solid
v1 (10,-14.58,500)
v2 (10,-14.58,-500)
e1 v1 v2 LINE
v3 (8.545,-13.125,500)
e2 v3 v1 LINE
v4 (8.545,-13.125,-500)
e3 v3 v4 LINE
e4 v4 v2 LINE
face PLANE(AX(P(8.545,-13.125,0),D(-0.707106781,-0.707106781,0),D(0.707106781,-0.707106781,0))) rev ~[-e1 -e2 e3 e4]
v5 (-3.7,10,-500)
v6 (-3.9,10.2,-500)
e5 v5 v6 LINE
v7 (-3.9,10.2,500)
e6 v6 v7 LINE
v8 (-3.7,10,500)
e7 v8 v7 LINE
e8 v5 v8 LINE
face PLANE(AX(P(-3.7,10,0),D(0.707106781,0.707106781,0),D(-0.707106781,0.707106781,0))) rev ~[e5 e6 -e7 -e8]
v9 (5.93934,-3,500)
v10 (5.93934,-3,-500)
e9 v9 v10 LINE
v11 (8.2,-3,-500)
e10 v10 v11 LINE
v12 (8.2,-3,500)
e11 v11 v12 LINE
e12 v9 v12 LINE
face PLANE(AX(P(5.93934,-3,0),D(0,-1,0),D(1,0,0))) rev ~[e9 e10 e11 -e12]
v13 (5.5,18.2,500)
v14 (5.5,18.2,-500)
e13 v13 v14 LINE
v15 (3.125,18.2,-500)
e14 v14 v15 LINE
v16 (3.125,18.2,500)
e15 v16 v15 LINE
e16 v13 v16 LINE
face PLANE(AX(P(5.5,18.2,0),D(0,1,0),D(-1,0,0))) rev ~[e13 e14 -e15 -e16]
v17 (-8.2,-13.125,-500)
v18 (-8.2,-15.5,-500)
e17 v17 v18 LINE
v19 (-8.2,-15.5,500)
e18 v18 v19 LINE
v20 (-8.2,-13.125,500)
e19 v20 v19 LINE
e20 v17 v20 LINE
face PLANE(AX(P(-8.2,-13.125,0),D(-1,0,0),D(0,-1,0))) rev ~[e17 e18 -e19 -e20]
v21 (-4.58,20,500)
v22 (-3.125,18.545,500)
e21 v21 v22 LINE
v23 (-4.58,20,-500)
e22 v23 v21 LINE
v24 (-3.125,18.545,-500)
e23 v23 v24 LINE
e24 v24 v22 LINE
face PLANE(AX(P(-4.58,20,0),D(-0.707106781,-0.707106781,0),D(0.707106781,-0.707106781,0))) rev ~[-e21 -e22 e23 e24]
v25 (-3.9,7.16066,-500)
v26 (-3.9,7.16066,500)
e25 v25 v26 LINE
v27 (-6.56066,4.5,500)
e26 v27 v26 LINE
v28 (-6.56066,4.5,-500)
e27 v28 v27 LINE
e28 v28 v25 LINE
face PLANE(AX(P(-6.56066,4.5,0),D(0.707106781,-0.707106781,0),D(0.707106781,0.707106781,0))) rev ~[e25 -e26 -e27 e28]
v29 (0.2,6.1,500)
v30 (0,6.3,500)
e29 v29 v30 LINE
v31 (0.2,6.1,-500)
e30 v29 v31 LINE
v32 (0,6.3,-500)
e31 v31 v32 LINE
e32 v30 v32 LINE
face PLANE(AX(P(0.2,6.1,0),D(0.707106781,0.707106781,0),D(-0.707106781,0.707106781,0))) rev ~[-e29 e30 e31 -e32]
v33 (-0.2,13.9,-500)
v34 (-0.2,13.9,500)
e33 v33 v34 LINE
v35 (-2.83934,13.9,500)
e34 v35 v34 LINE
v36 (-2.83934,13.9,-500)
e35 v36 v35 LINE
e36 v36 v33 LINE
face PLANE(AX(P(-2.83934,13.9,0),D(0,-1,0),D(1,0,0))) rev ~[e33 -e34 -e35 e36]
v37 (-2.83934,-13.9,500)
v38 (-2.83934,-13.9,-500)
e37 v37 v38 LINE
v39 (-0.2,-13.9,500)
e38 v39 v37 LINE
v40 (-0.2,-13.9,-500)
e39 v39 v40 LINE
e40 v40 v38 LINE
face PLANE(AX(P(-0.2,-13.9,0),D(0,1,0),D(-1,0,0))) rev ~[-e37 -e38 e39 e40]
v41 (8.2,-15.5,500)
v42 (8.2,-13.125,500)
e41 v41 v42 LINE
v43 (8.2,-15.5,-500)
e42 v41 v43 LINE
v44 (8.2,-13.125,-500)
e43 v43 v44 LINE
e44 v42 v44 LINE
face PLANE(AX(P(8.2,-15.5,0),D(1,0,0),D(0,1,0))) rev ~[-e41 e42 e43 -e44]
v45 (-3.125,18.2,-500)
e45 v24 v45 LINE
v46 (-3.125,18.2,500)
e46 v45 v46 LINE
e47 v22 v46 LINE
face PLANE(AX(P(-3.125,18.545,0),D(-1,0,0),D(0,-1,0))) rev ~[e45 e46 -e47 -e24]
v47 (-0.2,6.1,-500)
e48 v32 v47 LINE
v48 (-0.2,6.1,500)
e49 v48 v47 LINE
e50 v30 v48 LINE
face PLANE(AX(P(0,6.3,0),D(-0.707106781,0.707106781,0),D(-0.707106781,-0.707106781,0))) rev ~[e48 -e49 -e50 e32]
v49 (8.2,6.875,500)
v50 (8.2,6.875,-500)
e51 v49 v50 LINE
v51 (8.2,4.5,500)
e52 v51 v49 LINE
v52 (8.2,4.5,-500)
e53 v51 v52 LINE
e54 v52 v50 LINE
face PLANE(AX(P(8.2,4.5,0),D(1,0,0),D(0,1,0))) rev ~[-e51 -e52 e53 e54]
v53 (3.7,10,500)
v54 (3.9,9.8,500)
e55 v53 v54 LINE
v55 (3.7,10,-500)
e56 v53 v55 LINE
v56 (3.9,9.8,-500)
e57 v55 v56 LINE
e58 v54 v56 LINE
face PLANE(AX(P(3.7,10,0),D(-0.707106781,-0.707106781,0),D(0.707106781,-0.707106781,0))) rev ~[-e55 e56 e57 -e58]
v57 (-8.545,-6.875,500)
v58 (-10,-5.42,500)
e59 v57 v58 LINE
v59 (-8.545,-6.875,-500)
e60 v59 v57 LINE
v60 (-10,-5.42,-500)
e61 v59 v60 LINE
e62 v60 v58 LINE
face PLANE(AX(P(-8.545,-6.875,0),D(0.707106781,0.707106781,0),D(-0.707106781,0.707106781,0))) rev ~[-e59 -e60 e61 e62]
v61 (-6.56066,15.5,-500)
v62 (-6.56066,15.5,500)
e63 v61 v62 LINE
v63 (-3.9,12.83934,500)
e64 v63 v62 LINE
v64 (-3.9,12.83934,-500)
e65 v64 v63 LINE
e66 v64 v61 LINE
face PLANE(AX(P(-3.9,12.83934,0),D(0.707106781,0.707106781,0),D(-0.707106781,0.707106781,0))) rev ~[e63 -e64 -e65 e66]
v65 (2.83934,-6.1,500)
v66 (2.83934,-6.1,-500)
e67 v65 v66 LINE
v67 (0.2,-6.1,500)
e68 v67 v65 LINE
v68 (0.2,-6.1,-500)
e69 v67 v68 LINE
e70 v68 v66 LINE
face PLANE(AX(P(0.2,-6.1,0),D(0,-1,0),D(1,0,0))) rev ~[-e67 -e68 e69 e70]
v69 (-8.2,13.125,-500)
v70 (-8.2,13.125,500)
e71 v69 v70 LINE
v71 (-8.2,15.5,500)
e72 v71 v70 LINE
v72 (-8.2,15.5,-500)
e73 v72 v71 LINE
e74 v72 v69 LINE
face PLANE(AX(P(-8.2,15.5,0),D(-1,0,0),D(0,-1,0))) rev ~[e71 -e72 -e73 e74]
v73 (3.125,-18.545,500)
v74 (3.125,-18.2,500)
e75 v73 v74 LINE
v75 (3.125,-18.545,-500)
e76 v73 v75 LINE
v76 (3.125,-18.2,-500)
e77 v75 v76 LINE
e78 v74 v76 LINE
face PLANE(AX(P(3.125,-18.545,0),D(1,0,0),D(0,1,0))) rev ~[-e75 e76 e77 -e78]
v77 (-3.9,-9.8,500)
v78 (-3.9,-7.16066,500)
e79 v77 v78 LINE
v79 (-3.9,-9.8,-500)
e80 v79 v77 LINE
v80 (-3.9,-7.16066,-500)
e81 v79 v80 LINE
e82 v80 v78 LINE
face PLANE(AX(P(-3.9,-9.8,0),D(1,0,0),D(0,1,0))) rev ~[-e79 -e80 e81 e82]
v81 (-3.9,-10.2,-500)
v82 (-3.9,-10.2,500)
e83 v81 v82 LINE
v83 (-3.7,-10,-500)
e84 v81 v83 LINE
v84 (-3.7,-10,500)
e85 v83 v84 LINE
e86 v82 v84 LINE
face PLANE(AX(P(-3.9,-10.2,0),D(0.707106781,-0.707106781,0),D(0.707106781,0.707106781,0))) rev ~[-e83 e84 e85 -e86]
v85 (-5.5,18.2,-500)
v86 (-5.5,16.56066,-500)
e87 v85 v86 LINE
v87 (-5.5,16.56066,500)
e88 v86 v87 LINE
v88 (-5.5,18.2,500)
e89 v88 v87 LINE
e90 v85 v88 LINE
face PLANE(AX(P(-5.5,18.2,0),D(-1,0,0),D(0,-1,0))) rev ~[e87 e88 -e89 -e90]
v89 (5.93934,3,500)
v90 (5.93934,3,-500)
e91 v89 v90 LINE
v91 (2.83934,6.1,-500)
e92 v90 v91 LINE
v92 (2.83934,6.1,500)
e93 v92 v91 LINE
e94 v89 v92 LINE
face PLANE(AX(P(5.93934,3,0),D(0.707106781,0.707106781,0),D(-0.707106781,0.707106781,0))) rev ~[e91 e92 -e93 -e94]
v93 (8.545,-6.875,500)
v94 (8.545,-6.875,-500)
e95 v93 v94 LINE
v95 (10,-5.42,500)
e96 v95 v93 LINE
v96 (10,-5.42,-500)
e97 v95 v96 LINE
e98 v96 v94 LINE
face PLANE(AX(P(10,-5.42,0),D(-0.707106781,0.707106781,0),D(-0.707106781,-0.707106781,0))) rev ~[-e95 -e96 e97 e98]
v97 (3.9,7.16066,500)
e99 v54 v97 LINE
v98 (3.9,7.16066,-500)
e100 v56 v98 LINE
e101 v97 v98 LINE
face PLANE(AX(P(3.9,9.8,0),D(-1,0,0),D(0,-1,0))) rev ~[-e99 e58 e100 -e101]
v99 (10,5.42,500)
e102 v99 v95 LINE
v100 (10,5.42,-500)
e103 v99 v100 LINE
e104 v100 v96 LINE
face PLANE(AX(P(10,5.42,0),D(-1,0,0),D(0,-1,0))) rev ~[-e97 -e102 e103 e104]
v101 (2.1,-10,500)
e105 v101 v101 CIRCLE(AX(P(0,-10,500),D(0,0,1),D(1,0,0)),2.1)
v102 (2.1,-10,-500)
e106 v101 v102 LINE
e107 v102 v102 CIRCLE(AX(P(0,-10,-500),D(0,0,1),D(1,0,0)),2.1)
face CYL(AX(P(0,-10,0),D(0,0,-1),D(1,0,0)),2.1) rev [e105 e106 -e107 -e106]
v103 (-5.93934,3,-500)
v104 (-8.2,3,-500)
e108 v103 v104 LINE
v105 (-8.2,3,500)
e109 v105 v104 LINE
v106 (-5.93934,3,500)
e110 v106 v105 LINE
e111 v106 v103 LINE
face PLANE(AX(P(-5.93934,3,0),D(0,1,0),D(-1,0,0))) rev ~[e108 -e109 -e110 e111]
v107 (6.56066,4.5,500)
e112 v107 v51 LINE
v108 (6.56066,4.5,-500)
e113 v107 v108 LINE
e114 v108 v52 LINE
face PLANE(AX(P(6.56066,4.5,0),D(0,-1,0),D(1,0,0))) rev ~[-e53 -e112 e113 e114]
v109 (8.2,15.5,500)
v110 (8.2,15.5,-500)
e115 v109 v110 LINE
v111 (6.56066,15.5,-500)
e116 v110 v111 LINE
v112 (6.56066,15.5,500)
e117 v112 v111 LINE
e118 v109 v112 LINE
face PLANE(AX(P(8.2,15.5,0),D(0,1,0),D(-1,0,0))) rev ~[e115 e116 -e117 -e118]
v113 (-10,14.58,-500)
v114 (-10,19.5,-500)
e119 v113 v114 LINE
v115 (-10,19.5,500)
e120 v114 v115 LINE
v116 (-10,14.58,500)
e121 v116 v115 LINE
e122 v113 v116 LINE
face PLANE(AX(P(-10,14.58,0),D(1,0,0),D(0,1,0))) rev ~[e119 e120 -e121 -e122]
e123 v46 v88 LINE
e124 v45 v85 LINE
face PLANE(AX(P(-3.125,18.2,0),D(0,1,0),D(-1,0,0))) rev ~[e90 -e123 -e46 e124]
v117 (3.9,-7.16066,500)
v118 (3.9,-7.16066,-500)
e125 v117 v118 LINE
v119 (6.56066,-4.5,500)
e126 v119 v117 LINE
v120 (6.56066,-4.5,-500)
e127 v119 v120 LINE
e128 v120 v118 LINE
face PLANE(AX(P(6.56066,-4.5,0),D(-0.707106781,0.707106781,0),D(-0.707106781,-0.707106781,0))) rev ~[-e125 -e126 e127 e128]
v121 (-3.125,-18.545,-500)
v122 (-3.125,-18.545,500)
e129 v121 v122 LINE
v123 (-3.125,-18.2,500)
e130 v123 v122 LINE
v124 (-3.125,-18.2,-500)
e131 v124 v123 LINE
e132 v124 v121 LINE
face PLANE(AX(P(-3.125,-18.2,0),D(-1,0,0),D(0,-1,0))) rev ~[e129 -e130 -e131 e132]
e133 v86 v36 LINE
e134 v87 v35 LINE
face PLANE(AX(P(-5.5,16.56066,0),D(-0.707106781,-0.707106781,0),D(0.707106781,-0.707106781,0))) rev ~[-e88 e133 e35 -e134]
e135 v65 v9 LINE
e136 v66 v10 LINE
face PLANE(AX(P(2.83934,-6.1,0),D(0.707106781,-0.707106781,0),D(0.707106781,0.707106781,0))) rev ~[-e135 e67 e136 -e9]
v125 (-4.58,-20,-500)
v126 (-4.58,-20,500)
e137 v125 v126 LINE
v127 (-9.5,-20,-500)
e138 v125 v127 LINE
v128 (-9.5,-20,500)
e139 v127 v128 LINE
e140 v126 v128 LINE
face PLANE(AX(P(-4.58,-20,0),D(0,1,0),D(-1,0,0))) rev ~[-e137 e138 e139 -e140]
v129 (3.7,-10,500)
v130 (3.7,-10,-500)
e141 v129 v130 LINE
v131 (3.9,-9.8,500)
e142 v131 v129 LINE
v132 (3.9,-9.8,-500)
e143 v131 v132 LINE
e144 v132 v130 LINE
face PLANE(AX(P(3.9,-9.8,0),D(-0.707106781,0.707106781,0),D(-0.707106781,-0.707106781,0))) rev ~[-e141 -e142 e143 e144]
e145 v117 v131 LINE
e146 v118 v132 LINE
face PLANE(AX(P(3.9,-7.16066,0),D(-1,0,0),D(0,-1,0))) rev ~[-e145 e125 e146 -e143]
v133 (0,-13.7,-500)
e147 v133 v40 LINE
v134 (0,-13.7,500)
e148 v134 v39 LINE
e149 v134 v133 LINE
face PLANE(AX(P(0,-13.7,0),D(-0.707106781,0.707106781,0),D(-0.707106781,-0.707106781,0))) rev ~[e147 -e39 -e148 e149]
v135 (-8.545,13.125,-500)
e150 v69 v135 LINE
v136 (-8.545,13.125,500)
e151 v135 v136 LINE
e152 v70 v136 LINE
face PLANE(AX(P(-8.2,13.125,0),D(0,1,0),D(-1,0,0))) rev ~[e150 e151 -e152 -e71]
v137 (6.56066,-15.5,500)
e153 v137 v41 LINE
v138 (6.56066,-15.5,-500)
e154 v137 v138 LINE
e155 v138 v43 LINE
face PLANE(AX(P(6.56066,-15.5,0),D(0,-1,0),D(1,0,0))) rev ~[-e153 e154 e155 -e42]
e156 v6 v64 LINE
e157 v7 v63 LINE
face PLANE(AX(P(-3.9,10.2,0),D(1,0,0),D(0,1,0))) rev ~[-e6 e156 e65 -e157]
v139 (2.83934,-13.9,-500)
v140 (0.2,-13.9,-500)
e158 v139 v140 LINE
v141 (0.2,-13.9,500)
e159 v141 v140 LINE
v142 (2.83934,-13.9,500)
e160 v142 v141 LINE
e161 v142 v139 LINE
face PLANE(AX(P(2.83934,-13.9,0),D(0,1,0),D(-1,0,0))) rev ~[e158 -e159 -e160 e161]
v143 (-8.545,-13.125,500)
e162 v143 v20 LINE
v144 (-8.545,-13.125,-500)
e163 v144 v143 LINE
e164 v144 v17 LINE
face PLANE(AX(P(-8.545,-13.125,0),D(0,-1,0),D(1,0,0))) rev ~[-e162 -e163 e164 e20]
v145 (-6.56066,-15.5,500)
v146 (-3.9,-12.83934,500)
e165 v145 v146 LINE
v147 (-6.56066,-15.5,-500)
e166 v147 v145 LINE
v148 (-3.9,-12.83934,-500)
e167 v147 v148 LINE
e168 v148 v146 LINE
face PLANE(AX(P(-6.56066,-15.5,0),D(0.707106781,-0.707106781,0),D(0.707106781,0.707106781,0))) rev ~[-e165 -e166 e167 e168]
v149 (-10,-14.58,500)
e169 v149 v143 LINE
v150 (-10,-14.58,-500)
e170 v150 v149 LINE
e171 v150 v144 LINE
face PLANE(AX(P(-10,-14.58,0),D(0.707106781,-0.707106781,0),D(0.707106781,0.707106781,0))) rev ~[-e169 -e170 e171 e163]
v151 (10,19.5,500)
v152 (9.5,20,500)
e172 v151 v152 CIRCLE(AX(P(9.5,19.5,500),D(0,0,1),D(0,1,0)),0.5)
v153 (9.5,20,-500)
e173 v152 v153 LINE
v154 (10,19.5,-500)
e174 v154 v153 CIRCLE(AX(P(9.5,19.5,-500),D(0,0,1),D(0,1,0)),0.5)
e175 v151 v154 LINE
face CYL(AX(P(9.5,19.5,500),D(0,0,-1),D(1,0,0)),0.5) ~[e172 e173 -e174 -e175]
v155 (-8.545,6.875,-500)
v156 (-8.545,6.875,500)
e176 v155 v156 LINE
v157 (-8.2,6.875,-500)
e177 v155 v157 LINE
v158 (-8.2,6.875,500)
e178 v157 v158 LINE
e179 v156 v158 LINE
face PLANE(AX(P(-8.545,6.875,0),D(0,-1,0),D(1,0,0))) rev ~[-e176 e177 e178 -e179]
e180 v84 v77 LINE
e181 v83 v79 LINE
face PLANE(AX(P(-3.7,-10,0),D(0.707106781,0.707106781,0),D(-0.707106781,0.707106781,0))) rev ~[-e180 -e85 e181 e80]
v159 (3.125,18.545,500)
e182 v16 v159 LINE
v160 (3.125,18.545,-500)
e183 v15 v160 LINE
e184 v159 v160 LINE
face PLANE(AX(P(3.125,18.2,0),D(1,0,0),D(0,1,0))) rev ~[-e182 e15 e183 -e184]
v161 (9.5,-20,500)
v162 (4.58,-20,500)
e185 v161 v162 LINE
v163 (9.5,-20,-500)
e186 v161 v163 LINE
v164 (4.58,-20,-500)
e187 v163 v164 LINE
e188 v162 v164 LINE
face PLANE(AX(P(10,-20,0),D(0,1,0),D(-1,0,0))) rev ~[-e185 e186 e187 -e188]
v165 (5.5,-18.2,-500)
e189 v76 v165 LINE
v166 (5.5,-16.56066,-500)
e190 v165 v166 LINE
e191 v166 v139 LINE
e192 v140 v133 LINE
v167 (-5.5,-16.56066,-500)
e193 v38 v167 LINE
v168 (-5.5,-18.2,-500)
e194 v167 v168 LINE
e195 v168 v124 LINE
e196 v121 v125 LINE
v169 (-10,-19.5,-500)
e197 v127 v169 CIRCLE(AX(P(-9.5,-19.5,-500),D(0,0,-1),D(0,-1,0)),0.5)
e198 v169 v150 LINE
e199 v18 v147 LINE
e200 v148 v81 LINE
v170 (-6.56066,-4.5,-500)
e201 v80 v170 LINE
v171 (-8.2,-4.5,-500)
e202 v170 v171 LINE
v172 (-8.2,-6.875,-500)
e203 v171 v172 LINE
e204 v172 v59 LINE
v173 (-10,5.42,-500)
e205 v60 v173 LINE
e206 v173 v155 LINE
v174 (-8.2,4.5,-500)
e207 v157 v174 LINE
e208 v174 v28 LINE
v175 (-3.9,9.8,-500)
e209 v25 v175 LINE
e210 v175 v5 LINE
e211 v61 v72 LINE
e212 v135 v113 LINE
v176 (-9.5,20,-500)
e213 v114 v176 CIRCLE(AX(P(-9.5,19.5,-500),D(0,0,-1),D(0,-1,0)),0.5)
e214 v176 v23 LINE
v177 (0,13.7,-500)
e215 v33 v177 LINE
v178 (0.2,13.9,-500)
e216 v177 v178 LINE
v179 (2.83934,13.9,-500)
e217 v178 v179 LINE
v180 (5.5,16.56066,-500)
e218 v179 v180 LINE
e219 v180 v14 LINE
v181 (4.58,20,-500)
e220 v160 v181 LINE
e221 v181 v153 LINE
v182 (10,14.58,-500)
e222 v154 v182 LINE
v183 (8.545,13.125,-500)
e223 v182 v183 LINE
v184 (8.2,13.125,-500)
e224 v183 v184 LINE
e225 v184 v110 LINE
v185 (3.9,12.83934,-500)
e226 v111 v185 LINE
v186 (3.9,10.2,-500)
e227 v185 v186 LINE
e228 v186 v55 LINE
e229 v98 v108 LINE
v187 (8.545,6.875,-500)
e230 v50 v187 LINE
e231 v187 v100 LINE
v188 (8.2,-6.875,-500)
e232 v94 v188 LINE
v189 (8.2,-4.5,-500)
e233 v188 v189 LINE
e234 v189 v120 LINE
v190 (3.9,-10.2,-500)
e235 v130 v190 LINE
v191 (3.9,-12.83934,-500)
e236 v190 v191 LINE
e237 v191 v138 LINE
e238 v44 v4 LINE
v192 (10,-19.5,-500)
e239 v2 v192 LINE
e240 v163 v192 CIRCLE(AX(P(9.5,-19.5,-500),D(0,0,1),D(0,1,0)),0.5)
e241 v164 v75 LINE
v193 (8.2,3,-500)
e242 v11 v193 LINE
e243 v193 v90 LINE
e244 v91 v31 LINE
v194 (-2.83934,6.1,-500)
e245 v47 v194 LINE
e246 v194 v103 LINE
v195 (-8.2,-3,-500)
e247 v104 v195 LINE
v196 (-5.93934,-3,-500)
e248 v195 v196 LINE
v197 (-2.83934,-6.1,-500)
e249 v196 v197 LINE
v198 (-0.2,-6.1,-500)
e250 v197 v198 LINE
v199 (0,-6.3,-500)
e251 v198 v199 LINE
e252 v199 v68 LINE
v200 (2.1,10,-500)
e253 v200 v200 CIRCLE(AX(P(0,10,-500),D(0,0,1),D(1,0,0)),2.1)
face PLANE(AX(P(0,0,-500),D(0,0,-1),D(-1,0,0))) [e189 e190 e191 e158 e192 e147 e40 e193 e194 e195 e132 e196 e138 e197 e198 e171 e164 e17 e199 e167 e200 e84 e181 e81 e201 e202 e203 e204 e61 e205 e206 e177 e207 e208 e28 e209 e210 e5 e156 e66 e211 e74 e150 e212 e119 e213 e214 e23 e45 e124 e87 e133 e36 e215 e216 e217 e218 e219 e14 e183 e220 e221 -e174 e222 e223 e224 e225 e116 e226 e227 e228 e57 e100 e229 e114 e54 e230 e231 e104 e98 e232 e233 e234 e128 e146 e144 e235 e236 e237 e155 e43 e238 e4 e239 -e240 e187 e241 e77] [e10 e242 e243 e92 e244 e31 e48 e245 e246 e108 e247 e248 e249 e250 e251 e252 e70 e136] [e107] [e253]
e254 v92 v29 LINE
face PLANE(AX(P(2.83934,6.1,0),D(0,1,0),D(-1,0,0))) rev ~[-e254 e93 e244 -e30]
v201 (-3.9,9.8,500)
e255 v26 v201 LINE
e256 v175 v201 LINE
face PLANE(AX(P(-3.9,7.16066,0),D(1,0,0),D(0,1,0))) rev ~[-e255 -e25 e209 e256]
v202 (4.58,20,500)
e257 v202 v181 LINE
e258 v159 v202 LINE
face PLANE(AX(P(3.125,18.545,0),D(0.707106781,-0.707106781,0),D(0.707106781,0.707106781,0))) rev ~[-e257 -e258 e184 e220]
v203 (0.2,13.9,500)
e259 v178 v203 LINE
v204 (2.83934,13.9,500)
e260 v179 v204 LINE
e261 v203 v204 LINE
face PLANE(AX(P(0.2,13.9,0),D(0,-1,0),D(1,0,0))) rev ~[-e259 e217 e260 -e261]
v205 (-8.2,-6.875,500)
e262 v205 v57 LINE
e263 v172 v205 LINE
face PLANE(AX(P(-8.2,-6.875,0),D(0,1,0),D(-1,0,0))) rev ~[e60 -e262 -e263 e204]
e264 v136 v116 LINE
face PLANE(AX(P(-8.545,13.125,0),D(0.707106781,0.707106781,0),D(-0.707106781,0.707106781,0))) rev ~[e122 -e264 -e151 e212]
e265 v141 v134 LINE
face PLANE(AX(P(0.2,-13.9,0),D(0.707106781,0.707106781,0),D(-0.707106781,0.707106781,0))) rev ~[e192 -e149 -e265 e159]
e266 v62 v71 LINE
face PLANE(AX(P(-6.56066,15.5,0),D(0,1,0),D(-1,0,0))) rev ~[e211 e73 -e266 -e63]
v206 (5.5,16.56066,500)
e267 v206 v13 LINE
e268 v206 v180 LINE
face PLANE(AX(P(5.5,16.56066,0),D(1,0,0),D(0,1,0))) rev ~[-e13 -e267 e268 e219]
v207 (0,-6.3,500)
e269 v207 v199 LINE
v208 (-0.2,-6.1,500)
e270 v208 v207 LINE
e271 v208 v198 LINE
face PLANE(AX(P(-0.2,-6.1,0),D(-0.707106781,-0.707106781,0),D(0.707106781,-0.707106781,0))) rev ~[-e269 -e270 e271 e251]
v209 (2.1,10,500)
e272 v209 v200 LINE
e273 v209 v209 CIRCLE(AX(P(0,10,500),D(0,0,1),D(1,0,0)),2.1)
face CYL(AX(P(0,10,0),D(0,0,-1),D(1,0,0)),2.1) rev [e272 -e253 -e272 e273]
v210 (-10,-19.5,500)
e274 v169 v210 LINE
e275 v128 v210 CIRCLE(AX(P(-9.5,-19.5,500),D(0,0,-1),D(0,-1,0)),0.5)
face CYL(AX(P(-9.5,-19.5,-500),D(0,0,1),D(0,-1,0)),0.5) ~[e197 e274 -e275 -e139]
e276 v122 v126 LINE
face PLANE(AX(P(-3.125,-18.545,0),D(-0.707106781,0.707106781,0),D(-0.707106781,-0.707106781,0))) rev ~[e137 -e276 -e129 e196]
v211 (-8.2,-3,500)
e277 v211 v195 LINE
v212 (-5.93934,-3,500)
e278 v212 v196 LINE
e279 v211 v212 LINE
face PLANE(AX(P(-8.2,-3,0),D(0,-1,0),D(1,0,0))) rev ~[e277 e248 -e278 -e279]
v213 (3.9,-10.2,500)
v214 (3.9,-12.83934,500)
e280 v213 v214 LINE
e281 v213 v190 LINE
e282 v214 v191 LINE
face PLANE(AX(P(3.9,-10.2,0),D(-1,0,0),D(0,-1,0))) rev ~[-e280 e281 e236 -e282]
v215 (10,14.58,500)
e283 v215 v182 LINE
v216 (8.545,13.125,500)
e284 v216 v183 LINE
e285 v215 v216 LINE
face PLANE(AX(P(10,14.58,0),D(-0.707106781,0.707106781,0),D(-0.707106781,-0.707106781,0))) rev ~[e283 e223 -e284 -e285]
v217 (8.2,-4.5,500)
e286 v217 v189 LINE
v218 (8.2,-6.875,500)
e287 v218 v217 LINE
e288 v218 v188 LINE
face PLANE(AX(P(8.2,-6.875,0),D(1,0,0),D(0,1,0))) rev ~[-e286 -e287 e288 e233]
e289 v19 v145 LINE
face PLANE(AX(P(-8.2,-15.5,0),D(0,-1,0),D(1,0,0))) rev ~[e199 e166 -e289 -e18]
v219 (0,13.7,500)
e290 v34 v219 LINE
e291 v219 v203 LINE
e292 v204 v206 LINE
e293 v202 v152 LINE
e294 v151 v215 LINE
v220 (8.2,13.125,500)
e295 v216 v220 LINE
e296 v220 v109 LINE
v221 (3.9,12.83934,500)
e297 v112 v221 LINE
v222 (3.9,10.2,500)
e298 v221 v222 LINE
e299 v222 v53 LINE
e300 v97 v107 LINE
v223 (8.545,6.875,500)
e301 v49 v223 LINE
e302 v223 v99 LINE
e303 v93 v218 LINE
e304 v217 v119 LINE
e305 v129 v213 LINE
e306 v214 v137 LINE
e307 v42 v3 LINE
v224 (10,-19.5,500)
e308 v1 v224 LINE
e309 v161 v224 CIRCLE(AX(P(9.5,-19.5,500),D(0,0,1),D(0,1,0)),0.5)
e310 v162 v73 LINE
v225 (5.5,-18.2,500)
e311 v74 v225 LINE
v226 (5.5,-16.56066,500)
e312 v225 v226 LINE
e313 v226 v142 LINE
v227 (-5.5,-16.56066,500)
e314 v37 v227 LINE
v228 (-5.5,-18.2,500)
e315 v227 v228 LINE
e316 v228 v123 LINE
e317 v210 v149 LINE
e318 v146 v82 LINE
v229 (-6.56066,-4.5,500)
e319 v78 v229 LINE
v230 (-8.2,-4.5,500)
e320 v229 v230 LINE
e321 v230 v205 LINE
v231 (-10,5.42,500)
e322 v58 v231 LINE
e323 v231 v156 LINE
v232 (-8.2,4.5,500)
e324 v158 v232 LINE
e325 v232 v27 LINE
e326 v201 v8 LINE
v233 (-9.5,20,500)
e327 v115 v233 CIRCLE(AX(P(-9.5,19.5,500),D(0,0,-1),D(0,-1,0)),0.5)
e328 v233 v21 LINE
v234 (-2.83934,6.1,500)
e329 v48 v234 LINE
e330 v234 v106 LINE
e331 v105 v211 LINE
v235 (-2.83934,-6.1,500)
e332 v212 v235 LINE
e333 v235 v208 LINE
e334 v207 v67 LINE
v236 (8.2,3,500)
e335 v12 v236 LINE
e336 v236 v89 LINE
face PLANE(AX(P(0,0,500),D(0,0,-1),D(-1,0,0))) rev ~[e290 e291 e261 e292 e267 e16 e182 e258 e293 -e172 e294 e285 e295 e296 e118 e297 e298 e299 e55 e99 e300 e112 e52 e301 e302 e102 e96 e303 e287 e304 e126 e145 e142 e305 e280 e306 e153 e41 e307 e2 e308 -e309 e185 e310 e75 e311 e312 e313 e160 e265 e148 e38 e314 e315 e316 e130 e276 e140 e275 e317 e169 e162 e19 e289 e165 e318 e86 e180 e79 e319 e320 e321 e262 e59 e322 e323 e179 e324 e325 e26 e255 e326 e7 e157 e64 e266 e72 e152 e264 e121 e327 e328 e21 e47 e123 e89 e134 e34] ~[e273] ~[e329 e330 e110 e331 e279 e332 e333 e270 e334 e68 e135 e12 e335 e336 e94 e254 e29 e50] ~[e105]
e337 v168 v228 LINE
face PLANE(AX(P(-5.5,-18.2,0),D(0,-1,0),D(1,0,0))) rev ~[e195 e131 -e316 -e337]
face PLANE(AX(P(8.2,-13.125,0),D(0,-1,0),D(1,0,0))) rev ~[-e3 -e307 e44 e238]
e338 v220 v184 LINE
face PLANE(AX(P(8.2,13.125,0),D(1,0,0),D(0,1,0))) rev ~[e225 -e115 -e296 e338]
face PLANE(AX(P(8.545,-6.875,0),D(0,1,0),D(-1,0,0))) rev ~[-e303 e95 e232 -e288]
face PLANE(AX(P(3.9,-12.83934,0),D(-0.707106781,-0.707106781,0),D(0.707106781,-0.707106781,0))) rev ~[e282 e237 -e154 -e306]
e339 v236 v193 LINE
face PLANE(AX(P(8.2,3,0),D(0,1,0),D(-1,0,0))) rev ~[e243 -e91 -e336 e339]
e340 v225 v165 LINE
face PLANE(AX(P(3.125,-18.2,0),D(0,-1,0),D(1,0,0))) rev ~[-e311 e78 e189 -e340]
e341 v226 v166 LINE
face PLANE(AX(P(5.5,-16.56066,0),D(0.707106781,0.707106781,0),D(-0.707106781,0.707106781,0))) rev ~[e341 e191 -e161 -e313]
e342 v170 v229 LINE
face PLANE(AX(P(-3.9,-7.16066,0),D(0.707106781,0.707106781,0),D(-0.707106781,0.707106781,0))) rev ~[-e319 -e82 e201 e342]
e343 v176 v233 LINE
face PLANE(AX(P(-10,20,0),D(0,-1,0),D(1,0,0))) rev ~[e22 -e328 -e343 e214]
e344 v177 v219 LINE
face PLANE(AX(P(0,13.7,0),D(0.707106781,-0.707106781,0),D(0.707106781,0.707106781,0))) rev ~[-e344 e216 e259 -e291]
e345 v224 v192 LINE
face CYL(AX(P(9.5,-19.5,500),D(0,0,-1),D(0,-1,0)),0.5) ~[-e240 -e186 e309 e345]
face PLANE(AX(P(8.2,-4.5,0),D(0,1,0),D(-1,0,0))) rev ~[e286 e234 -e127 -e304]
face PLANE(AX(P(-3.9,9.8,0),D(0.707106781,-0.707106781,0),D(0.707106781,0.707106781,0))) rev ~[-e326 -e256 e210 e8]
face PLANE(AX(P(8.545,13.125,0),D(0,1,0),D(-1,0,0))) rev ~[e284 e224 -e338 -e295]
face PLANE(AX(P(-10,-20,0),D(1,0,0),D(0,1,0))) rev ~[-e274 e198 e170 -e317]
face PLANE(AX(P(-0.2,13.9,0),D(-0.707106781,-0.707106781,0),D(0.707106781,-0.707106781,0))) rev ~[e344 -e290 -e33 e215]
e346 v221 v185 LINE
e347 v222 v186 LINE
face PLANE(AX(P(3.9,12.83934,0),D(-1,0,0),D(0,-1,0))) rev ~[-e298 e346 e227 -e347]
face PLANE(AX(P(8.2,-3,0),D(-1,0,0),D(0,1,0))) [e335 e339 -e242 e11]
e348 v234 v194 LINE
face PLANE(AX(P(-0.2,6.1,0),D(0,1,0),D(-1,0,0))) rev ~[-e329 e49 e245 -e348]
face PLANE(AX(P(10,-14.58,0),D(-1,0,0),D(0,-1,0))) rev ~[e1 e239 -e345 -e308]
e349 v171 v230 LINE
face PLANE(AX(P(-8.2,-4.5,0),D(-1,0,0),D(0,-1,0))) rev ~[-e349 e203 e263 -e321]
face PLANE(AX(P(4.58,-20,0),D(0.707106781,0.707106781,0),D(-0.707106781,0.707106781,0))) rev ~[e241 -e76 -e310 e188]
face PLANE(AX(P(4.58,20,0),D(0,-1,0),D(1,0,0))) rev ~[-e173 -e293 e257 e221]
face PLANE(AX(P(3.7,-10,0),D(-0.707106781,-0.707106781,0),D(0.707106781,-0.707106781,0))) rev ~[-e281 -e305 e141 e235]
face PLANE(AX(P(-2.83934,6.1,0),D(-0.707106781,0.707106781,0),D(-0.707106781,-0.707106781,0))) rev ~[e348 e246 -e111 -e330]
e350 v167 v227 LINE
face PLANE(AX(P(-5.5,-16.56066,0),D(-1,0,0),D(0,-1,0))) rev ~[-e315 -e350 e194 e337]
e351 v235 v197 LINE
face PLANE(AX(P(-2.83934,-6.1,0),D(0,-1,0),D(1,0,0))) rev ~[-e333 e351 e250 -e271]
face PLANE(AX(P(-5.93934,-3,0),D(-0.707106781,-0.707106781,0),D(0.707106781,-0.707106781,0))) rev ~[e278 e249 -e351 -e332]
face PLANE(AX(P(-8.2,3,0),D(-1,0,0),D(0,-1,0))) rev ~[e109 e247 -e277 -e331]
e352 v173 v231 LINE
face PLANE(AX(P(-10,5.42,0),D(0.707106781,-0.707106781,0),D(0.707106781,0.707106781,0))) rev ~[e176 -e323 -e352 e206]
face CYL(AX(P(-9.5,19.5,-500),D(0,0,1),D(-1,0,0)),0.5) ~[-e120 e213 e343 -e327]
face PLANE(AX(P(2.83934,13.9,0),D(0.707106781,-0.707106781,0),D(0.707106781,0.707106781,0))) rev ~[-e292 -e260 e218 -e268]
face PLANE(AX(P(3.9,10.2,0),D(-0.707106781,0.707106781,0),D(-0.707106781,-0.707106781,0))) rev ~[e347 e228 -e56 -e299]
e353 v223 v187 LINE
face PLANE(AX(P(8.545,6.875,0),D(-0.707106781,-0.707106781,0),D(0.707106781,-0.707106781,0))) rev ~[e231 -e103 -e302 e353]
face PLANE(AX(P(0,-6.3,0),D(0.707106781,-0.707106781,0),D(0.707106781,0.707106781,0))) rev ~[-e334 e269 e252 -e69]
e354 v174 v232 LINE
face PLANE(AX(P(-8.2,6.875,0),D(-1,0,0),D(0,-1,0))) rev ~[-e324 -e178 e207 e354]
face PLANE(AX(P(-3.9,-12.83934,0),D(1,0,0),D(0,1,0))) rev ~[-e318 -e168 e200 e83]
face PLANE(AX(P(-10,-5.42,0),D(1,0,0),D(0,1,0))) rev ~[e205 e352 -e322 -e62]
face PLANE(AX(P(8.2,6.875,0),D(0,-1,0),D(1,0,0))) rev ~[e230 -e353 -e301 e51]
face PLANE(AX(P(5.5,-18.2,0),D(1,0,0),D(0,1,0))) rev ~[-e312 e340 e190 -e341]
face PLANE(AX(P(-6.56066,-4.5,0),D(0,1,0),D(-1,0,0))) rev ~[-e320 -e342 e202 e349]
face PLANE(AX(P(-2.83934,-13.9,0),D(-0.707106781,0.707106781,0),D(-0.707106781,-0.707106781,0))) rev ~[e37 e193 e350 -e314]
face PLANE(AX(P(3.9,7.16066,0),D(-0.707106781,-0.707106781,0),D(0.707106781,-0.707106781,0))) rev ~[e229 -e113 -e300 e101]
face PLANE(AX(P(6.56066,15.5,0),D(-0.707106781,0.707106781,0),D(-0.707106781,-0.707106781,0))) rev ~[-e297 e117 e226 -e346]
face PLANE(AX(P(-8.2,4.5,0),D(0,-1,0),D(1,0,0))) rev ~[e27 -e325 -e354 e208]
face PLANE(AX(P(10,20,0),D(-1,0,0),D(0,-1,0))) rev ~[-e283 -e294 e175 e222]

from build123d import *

# Parameters (mm, degrees)
SKETCH1_R           = 2.1
BOSS_EXTRUDE1_DEPTH = 500
FILLET1_R           = 0.5


with BuildPart() as part:
    # Sketch1 → Boss-Extrude1 (new body, symmetric)
    with BuildSketch(Plane.XY):
        Polygon((2.839339828, 13.9), (5.5, 16.560660172), (5.5, 18.2), (3.125, 18.2), (3.125, 18.545), (4.58, 20), (10, 20), (10, 14.58), (8.545, 13.125), (8.2, 13.125), (8.2, 15.5), (6.560660172, 15.5), (3.9, 12.839339828), (3.9, 10.2), (3.7, 10), (3.9, 9.8), (3.9, 7.160660172), (6.560660172, 4.5), (8.2, 4.5), (8.2, 6.875), (8.545, 6.875), (10, 5.42), (10, -5.42), (8.545, -6.875), (8.2, -6.875), (8.2, -4.5), (6.560660172, -4.5), (3.9, -7.160660172), (3.9, -9.8), (3.7, -10), (3.9, -10.2), (3.9, -12.839339828), (6.560660172, -15.5), (8.2, -15.5), (8.2, -13.125), (8.545, -13.125), (10, -14.58), (10, -20), (4.58, -20), (3.125, -18.545), (3.125, -18.2), (5.5, -18.2), (5.5, -16.560660172), (2.839339828, -13.9), (0.2, -13.9), (0, -13.7), (-0.2, -13.9), (-2.839339828, -13.9), (-5.5, -16.560660172), (-5.5, -18.2), (-3.125, -18.2), (-3.125, -18.545), (-4.58, -20), (-10, -20), (-10, -14.58), (-8.545, -13.125), (-8.2, -13.125), (-8.2, -15.5), (-6.560660172, -15.5), (-3.9, -12.839339828), (-3.9, -10.2), (-3.7, -10), (-3.9, -9.8), (-3.9, -7.160660172), (-6.560660172, -4.5), (-8.2, -4.5), (-8.2, -6.875), (-8.545, -6.875), (-10, -5.42), (-10, 5.42), (-8.545, 6.875), (-8.2, 6.875), (-8.2, 4.5), (-6.560660172, 4.5), (-3.9, 7.160660172), (-3.9, 9.8), (-3.7, 10), (-3.9, 10.2), (-3.9, 12.839339828), (-6.560660172, 15.5), (-8.2, 15.5), (-8.2, 13.125), (-8.545, 13.125), (-10, 14.58), (-10, 20), (-4.58, 20), (-3.125, 18.545), (-3.125, 18.2), (-5.5, 18.2), (-5.5, 16.560660172), (-2.839339828, 13.9), (-0.2, 13.9), (0, 13.7), (0.2, 13.9), align=None)
        with Locations((0, 10)):
            Circle(SKETCH1_R, mode=Mode.SUBTRACT)
        with Locations((0, -10)):
            Circle(SKETCH1_R, mode=Mode.SUBTRACT)
        Polygon((8.2, -3), (8.2, 3), (5.939339828, 3), (2.839339828, 6.1), (0.2, 6.1), (0, 6.3), (-0.2, 6.1), (-2.839339828, 6.1), (-5.939339828, 3), (-8.2, 3), (-8.2, -3), (-5.939339828, -3), (-2.839339828, -6.1), (-0.2, -6.1), (0, -6.3), (0.2, -6.1), (2.839339828, -6.1), (5.939339828, -3), align=None, mode=Mode.SUBTRACT)
    extrude(amount=BOSS_EXTRUDE1_DEPTH, both=True)

    # Fillet1
    fillet1_edges = [part.edges().sort_by_distance(p)[0] for p in [
        (10, -20, 0),
        (-10, -20, 0),
        (-10, 20, 0),
        (10, 20, 0),
    ]]
    fillet(fillet1_edges, radius=FILLET1_R)


solid = part.part
